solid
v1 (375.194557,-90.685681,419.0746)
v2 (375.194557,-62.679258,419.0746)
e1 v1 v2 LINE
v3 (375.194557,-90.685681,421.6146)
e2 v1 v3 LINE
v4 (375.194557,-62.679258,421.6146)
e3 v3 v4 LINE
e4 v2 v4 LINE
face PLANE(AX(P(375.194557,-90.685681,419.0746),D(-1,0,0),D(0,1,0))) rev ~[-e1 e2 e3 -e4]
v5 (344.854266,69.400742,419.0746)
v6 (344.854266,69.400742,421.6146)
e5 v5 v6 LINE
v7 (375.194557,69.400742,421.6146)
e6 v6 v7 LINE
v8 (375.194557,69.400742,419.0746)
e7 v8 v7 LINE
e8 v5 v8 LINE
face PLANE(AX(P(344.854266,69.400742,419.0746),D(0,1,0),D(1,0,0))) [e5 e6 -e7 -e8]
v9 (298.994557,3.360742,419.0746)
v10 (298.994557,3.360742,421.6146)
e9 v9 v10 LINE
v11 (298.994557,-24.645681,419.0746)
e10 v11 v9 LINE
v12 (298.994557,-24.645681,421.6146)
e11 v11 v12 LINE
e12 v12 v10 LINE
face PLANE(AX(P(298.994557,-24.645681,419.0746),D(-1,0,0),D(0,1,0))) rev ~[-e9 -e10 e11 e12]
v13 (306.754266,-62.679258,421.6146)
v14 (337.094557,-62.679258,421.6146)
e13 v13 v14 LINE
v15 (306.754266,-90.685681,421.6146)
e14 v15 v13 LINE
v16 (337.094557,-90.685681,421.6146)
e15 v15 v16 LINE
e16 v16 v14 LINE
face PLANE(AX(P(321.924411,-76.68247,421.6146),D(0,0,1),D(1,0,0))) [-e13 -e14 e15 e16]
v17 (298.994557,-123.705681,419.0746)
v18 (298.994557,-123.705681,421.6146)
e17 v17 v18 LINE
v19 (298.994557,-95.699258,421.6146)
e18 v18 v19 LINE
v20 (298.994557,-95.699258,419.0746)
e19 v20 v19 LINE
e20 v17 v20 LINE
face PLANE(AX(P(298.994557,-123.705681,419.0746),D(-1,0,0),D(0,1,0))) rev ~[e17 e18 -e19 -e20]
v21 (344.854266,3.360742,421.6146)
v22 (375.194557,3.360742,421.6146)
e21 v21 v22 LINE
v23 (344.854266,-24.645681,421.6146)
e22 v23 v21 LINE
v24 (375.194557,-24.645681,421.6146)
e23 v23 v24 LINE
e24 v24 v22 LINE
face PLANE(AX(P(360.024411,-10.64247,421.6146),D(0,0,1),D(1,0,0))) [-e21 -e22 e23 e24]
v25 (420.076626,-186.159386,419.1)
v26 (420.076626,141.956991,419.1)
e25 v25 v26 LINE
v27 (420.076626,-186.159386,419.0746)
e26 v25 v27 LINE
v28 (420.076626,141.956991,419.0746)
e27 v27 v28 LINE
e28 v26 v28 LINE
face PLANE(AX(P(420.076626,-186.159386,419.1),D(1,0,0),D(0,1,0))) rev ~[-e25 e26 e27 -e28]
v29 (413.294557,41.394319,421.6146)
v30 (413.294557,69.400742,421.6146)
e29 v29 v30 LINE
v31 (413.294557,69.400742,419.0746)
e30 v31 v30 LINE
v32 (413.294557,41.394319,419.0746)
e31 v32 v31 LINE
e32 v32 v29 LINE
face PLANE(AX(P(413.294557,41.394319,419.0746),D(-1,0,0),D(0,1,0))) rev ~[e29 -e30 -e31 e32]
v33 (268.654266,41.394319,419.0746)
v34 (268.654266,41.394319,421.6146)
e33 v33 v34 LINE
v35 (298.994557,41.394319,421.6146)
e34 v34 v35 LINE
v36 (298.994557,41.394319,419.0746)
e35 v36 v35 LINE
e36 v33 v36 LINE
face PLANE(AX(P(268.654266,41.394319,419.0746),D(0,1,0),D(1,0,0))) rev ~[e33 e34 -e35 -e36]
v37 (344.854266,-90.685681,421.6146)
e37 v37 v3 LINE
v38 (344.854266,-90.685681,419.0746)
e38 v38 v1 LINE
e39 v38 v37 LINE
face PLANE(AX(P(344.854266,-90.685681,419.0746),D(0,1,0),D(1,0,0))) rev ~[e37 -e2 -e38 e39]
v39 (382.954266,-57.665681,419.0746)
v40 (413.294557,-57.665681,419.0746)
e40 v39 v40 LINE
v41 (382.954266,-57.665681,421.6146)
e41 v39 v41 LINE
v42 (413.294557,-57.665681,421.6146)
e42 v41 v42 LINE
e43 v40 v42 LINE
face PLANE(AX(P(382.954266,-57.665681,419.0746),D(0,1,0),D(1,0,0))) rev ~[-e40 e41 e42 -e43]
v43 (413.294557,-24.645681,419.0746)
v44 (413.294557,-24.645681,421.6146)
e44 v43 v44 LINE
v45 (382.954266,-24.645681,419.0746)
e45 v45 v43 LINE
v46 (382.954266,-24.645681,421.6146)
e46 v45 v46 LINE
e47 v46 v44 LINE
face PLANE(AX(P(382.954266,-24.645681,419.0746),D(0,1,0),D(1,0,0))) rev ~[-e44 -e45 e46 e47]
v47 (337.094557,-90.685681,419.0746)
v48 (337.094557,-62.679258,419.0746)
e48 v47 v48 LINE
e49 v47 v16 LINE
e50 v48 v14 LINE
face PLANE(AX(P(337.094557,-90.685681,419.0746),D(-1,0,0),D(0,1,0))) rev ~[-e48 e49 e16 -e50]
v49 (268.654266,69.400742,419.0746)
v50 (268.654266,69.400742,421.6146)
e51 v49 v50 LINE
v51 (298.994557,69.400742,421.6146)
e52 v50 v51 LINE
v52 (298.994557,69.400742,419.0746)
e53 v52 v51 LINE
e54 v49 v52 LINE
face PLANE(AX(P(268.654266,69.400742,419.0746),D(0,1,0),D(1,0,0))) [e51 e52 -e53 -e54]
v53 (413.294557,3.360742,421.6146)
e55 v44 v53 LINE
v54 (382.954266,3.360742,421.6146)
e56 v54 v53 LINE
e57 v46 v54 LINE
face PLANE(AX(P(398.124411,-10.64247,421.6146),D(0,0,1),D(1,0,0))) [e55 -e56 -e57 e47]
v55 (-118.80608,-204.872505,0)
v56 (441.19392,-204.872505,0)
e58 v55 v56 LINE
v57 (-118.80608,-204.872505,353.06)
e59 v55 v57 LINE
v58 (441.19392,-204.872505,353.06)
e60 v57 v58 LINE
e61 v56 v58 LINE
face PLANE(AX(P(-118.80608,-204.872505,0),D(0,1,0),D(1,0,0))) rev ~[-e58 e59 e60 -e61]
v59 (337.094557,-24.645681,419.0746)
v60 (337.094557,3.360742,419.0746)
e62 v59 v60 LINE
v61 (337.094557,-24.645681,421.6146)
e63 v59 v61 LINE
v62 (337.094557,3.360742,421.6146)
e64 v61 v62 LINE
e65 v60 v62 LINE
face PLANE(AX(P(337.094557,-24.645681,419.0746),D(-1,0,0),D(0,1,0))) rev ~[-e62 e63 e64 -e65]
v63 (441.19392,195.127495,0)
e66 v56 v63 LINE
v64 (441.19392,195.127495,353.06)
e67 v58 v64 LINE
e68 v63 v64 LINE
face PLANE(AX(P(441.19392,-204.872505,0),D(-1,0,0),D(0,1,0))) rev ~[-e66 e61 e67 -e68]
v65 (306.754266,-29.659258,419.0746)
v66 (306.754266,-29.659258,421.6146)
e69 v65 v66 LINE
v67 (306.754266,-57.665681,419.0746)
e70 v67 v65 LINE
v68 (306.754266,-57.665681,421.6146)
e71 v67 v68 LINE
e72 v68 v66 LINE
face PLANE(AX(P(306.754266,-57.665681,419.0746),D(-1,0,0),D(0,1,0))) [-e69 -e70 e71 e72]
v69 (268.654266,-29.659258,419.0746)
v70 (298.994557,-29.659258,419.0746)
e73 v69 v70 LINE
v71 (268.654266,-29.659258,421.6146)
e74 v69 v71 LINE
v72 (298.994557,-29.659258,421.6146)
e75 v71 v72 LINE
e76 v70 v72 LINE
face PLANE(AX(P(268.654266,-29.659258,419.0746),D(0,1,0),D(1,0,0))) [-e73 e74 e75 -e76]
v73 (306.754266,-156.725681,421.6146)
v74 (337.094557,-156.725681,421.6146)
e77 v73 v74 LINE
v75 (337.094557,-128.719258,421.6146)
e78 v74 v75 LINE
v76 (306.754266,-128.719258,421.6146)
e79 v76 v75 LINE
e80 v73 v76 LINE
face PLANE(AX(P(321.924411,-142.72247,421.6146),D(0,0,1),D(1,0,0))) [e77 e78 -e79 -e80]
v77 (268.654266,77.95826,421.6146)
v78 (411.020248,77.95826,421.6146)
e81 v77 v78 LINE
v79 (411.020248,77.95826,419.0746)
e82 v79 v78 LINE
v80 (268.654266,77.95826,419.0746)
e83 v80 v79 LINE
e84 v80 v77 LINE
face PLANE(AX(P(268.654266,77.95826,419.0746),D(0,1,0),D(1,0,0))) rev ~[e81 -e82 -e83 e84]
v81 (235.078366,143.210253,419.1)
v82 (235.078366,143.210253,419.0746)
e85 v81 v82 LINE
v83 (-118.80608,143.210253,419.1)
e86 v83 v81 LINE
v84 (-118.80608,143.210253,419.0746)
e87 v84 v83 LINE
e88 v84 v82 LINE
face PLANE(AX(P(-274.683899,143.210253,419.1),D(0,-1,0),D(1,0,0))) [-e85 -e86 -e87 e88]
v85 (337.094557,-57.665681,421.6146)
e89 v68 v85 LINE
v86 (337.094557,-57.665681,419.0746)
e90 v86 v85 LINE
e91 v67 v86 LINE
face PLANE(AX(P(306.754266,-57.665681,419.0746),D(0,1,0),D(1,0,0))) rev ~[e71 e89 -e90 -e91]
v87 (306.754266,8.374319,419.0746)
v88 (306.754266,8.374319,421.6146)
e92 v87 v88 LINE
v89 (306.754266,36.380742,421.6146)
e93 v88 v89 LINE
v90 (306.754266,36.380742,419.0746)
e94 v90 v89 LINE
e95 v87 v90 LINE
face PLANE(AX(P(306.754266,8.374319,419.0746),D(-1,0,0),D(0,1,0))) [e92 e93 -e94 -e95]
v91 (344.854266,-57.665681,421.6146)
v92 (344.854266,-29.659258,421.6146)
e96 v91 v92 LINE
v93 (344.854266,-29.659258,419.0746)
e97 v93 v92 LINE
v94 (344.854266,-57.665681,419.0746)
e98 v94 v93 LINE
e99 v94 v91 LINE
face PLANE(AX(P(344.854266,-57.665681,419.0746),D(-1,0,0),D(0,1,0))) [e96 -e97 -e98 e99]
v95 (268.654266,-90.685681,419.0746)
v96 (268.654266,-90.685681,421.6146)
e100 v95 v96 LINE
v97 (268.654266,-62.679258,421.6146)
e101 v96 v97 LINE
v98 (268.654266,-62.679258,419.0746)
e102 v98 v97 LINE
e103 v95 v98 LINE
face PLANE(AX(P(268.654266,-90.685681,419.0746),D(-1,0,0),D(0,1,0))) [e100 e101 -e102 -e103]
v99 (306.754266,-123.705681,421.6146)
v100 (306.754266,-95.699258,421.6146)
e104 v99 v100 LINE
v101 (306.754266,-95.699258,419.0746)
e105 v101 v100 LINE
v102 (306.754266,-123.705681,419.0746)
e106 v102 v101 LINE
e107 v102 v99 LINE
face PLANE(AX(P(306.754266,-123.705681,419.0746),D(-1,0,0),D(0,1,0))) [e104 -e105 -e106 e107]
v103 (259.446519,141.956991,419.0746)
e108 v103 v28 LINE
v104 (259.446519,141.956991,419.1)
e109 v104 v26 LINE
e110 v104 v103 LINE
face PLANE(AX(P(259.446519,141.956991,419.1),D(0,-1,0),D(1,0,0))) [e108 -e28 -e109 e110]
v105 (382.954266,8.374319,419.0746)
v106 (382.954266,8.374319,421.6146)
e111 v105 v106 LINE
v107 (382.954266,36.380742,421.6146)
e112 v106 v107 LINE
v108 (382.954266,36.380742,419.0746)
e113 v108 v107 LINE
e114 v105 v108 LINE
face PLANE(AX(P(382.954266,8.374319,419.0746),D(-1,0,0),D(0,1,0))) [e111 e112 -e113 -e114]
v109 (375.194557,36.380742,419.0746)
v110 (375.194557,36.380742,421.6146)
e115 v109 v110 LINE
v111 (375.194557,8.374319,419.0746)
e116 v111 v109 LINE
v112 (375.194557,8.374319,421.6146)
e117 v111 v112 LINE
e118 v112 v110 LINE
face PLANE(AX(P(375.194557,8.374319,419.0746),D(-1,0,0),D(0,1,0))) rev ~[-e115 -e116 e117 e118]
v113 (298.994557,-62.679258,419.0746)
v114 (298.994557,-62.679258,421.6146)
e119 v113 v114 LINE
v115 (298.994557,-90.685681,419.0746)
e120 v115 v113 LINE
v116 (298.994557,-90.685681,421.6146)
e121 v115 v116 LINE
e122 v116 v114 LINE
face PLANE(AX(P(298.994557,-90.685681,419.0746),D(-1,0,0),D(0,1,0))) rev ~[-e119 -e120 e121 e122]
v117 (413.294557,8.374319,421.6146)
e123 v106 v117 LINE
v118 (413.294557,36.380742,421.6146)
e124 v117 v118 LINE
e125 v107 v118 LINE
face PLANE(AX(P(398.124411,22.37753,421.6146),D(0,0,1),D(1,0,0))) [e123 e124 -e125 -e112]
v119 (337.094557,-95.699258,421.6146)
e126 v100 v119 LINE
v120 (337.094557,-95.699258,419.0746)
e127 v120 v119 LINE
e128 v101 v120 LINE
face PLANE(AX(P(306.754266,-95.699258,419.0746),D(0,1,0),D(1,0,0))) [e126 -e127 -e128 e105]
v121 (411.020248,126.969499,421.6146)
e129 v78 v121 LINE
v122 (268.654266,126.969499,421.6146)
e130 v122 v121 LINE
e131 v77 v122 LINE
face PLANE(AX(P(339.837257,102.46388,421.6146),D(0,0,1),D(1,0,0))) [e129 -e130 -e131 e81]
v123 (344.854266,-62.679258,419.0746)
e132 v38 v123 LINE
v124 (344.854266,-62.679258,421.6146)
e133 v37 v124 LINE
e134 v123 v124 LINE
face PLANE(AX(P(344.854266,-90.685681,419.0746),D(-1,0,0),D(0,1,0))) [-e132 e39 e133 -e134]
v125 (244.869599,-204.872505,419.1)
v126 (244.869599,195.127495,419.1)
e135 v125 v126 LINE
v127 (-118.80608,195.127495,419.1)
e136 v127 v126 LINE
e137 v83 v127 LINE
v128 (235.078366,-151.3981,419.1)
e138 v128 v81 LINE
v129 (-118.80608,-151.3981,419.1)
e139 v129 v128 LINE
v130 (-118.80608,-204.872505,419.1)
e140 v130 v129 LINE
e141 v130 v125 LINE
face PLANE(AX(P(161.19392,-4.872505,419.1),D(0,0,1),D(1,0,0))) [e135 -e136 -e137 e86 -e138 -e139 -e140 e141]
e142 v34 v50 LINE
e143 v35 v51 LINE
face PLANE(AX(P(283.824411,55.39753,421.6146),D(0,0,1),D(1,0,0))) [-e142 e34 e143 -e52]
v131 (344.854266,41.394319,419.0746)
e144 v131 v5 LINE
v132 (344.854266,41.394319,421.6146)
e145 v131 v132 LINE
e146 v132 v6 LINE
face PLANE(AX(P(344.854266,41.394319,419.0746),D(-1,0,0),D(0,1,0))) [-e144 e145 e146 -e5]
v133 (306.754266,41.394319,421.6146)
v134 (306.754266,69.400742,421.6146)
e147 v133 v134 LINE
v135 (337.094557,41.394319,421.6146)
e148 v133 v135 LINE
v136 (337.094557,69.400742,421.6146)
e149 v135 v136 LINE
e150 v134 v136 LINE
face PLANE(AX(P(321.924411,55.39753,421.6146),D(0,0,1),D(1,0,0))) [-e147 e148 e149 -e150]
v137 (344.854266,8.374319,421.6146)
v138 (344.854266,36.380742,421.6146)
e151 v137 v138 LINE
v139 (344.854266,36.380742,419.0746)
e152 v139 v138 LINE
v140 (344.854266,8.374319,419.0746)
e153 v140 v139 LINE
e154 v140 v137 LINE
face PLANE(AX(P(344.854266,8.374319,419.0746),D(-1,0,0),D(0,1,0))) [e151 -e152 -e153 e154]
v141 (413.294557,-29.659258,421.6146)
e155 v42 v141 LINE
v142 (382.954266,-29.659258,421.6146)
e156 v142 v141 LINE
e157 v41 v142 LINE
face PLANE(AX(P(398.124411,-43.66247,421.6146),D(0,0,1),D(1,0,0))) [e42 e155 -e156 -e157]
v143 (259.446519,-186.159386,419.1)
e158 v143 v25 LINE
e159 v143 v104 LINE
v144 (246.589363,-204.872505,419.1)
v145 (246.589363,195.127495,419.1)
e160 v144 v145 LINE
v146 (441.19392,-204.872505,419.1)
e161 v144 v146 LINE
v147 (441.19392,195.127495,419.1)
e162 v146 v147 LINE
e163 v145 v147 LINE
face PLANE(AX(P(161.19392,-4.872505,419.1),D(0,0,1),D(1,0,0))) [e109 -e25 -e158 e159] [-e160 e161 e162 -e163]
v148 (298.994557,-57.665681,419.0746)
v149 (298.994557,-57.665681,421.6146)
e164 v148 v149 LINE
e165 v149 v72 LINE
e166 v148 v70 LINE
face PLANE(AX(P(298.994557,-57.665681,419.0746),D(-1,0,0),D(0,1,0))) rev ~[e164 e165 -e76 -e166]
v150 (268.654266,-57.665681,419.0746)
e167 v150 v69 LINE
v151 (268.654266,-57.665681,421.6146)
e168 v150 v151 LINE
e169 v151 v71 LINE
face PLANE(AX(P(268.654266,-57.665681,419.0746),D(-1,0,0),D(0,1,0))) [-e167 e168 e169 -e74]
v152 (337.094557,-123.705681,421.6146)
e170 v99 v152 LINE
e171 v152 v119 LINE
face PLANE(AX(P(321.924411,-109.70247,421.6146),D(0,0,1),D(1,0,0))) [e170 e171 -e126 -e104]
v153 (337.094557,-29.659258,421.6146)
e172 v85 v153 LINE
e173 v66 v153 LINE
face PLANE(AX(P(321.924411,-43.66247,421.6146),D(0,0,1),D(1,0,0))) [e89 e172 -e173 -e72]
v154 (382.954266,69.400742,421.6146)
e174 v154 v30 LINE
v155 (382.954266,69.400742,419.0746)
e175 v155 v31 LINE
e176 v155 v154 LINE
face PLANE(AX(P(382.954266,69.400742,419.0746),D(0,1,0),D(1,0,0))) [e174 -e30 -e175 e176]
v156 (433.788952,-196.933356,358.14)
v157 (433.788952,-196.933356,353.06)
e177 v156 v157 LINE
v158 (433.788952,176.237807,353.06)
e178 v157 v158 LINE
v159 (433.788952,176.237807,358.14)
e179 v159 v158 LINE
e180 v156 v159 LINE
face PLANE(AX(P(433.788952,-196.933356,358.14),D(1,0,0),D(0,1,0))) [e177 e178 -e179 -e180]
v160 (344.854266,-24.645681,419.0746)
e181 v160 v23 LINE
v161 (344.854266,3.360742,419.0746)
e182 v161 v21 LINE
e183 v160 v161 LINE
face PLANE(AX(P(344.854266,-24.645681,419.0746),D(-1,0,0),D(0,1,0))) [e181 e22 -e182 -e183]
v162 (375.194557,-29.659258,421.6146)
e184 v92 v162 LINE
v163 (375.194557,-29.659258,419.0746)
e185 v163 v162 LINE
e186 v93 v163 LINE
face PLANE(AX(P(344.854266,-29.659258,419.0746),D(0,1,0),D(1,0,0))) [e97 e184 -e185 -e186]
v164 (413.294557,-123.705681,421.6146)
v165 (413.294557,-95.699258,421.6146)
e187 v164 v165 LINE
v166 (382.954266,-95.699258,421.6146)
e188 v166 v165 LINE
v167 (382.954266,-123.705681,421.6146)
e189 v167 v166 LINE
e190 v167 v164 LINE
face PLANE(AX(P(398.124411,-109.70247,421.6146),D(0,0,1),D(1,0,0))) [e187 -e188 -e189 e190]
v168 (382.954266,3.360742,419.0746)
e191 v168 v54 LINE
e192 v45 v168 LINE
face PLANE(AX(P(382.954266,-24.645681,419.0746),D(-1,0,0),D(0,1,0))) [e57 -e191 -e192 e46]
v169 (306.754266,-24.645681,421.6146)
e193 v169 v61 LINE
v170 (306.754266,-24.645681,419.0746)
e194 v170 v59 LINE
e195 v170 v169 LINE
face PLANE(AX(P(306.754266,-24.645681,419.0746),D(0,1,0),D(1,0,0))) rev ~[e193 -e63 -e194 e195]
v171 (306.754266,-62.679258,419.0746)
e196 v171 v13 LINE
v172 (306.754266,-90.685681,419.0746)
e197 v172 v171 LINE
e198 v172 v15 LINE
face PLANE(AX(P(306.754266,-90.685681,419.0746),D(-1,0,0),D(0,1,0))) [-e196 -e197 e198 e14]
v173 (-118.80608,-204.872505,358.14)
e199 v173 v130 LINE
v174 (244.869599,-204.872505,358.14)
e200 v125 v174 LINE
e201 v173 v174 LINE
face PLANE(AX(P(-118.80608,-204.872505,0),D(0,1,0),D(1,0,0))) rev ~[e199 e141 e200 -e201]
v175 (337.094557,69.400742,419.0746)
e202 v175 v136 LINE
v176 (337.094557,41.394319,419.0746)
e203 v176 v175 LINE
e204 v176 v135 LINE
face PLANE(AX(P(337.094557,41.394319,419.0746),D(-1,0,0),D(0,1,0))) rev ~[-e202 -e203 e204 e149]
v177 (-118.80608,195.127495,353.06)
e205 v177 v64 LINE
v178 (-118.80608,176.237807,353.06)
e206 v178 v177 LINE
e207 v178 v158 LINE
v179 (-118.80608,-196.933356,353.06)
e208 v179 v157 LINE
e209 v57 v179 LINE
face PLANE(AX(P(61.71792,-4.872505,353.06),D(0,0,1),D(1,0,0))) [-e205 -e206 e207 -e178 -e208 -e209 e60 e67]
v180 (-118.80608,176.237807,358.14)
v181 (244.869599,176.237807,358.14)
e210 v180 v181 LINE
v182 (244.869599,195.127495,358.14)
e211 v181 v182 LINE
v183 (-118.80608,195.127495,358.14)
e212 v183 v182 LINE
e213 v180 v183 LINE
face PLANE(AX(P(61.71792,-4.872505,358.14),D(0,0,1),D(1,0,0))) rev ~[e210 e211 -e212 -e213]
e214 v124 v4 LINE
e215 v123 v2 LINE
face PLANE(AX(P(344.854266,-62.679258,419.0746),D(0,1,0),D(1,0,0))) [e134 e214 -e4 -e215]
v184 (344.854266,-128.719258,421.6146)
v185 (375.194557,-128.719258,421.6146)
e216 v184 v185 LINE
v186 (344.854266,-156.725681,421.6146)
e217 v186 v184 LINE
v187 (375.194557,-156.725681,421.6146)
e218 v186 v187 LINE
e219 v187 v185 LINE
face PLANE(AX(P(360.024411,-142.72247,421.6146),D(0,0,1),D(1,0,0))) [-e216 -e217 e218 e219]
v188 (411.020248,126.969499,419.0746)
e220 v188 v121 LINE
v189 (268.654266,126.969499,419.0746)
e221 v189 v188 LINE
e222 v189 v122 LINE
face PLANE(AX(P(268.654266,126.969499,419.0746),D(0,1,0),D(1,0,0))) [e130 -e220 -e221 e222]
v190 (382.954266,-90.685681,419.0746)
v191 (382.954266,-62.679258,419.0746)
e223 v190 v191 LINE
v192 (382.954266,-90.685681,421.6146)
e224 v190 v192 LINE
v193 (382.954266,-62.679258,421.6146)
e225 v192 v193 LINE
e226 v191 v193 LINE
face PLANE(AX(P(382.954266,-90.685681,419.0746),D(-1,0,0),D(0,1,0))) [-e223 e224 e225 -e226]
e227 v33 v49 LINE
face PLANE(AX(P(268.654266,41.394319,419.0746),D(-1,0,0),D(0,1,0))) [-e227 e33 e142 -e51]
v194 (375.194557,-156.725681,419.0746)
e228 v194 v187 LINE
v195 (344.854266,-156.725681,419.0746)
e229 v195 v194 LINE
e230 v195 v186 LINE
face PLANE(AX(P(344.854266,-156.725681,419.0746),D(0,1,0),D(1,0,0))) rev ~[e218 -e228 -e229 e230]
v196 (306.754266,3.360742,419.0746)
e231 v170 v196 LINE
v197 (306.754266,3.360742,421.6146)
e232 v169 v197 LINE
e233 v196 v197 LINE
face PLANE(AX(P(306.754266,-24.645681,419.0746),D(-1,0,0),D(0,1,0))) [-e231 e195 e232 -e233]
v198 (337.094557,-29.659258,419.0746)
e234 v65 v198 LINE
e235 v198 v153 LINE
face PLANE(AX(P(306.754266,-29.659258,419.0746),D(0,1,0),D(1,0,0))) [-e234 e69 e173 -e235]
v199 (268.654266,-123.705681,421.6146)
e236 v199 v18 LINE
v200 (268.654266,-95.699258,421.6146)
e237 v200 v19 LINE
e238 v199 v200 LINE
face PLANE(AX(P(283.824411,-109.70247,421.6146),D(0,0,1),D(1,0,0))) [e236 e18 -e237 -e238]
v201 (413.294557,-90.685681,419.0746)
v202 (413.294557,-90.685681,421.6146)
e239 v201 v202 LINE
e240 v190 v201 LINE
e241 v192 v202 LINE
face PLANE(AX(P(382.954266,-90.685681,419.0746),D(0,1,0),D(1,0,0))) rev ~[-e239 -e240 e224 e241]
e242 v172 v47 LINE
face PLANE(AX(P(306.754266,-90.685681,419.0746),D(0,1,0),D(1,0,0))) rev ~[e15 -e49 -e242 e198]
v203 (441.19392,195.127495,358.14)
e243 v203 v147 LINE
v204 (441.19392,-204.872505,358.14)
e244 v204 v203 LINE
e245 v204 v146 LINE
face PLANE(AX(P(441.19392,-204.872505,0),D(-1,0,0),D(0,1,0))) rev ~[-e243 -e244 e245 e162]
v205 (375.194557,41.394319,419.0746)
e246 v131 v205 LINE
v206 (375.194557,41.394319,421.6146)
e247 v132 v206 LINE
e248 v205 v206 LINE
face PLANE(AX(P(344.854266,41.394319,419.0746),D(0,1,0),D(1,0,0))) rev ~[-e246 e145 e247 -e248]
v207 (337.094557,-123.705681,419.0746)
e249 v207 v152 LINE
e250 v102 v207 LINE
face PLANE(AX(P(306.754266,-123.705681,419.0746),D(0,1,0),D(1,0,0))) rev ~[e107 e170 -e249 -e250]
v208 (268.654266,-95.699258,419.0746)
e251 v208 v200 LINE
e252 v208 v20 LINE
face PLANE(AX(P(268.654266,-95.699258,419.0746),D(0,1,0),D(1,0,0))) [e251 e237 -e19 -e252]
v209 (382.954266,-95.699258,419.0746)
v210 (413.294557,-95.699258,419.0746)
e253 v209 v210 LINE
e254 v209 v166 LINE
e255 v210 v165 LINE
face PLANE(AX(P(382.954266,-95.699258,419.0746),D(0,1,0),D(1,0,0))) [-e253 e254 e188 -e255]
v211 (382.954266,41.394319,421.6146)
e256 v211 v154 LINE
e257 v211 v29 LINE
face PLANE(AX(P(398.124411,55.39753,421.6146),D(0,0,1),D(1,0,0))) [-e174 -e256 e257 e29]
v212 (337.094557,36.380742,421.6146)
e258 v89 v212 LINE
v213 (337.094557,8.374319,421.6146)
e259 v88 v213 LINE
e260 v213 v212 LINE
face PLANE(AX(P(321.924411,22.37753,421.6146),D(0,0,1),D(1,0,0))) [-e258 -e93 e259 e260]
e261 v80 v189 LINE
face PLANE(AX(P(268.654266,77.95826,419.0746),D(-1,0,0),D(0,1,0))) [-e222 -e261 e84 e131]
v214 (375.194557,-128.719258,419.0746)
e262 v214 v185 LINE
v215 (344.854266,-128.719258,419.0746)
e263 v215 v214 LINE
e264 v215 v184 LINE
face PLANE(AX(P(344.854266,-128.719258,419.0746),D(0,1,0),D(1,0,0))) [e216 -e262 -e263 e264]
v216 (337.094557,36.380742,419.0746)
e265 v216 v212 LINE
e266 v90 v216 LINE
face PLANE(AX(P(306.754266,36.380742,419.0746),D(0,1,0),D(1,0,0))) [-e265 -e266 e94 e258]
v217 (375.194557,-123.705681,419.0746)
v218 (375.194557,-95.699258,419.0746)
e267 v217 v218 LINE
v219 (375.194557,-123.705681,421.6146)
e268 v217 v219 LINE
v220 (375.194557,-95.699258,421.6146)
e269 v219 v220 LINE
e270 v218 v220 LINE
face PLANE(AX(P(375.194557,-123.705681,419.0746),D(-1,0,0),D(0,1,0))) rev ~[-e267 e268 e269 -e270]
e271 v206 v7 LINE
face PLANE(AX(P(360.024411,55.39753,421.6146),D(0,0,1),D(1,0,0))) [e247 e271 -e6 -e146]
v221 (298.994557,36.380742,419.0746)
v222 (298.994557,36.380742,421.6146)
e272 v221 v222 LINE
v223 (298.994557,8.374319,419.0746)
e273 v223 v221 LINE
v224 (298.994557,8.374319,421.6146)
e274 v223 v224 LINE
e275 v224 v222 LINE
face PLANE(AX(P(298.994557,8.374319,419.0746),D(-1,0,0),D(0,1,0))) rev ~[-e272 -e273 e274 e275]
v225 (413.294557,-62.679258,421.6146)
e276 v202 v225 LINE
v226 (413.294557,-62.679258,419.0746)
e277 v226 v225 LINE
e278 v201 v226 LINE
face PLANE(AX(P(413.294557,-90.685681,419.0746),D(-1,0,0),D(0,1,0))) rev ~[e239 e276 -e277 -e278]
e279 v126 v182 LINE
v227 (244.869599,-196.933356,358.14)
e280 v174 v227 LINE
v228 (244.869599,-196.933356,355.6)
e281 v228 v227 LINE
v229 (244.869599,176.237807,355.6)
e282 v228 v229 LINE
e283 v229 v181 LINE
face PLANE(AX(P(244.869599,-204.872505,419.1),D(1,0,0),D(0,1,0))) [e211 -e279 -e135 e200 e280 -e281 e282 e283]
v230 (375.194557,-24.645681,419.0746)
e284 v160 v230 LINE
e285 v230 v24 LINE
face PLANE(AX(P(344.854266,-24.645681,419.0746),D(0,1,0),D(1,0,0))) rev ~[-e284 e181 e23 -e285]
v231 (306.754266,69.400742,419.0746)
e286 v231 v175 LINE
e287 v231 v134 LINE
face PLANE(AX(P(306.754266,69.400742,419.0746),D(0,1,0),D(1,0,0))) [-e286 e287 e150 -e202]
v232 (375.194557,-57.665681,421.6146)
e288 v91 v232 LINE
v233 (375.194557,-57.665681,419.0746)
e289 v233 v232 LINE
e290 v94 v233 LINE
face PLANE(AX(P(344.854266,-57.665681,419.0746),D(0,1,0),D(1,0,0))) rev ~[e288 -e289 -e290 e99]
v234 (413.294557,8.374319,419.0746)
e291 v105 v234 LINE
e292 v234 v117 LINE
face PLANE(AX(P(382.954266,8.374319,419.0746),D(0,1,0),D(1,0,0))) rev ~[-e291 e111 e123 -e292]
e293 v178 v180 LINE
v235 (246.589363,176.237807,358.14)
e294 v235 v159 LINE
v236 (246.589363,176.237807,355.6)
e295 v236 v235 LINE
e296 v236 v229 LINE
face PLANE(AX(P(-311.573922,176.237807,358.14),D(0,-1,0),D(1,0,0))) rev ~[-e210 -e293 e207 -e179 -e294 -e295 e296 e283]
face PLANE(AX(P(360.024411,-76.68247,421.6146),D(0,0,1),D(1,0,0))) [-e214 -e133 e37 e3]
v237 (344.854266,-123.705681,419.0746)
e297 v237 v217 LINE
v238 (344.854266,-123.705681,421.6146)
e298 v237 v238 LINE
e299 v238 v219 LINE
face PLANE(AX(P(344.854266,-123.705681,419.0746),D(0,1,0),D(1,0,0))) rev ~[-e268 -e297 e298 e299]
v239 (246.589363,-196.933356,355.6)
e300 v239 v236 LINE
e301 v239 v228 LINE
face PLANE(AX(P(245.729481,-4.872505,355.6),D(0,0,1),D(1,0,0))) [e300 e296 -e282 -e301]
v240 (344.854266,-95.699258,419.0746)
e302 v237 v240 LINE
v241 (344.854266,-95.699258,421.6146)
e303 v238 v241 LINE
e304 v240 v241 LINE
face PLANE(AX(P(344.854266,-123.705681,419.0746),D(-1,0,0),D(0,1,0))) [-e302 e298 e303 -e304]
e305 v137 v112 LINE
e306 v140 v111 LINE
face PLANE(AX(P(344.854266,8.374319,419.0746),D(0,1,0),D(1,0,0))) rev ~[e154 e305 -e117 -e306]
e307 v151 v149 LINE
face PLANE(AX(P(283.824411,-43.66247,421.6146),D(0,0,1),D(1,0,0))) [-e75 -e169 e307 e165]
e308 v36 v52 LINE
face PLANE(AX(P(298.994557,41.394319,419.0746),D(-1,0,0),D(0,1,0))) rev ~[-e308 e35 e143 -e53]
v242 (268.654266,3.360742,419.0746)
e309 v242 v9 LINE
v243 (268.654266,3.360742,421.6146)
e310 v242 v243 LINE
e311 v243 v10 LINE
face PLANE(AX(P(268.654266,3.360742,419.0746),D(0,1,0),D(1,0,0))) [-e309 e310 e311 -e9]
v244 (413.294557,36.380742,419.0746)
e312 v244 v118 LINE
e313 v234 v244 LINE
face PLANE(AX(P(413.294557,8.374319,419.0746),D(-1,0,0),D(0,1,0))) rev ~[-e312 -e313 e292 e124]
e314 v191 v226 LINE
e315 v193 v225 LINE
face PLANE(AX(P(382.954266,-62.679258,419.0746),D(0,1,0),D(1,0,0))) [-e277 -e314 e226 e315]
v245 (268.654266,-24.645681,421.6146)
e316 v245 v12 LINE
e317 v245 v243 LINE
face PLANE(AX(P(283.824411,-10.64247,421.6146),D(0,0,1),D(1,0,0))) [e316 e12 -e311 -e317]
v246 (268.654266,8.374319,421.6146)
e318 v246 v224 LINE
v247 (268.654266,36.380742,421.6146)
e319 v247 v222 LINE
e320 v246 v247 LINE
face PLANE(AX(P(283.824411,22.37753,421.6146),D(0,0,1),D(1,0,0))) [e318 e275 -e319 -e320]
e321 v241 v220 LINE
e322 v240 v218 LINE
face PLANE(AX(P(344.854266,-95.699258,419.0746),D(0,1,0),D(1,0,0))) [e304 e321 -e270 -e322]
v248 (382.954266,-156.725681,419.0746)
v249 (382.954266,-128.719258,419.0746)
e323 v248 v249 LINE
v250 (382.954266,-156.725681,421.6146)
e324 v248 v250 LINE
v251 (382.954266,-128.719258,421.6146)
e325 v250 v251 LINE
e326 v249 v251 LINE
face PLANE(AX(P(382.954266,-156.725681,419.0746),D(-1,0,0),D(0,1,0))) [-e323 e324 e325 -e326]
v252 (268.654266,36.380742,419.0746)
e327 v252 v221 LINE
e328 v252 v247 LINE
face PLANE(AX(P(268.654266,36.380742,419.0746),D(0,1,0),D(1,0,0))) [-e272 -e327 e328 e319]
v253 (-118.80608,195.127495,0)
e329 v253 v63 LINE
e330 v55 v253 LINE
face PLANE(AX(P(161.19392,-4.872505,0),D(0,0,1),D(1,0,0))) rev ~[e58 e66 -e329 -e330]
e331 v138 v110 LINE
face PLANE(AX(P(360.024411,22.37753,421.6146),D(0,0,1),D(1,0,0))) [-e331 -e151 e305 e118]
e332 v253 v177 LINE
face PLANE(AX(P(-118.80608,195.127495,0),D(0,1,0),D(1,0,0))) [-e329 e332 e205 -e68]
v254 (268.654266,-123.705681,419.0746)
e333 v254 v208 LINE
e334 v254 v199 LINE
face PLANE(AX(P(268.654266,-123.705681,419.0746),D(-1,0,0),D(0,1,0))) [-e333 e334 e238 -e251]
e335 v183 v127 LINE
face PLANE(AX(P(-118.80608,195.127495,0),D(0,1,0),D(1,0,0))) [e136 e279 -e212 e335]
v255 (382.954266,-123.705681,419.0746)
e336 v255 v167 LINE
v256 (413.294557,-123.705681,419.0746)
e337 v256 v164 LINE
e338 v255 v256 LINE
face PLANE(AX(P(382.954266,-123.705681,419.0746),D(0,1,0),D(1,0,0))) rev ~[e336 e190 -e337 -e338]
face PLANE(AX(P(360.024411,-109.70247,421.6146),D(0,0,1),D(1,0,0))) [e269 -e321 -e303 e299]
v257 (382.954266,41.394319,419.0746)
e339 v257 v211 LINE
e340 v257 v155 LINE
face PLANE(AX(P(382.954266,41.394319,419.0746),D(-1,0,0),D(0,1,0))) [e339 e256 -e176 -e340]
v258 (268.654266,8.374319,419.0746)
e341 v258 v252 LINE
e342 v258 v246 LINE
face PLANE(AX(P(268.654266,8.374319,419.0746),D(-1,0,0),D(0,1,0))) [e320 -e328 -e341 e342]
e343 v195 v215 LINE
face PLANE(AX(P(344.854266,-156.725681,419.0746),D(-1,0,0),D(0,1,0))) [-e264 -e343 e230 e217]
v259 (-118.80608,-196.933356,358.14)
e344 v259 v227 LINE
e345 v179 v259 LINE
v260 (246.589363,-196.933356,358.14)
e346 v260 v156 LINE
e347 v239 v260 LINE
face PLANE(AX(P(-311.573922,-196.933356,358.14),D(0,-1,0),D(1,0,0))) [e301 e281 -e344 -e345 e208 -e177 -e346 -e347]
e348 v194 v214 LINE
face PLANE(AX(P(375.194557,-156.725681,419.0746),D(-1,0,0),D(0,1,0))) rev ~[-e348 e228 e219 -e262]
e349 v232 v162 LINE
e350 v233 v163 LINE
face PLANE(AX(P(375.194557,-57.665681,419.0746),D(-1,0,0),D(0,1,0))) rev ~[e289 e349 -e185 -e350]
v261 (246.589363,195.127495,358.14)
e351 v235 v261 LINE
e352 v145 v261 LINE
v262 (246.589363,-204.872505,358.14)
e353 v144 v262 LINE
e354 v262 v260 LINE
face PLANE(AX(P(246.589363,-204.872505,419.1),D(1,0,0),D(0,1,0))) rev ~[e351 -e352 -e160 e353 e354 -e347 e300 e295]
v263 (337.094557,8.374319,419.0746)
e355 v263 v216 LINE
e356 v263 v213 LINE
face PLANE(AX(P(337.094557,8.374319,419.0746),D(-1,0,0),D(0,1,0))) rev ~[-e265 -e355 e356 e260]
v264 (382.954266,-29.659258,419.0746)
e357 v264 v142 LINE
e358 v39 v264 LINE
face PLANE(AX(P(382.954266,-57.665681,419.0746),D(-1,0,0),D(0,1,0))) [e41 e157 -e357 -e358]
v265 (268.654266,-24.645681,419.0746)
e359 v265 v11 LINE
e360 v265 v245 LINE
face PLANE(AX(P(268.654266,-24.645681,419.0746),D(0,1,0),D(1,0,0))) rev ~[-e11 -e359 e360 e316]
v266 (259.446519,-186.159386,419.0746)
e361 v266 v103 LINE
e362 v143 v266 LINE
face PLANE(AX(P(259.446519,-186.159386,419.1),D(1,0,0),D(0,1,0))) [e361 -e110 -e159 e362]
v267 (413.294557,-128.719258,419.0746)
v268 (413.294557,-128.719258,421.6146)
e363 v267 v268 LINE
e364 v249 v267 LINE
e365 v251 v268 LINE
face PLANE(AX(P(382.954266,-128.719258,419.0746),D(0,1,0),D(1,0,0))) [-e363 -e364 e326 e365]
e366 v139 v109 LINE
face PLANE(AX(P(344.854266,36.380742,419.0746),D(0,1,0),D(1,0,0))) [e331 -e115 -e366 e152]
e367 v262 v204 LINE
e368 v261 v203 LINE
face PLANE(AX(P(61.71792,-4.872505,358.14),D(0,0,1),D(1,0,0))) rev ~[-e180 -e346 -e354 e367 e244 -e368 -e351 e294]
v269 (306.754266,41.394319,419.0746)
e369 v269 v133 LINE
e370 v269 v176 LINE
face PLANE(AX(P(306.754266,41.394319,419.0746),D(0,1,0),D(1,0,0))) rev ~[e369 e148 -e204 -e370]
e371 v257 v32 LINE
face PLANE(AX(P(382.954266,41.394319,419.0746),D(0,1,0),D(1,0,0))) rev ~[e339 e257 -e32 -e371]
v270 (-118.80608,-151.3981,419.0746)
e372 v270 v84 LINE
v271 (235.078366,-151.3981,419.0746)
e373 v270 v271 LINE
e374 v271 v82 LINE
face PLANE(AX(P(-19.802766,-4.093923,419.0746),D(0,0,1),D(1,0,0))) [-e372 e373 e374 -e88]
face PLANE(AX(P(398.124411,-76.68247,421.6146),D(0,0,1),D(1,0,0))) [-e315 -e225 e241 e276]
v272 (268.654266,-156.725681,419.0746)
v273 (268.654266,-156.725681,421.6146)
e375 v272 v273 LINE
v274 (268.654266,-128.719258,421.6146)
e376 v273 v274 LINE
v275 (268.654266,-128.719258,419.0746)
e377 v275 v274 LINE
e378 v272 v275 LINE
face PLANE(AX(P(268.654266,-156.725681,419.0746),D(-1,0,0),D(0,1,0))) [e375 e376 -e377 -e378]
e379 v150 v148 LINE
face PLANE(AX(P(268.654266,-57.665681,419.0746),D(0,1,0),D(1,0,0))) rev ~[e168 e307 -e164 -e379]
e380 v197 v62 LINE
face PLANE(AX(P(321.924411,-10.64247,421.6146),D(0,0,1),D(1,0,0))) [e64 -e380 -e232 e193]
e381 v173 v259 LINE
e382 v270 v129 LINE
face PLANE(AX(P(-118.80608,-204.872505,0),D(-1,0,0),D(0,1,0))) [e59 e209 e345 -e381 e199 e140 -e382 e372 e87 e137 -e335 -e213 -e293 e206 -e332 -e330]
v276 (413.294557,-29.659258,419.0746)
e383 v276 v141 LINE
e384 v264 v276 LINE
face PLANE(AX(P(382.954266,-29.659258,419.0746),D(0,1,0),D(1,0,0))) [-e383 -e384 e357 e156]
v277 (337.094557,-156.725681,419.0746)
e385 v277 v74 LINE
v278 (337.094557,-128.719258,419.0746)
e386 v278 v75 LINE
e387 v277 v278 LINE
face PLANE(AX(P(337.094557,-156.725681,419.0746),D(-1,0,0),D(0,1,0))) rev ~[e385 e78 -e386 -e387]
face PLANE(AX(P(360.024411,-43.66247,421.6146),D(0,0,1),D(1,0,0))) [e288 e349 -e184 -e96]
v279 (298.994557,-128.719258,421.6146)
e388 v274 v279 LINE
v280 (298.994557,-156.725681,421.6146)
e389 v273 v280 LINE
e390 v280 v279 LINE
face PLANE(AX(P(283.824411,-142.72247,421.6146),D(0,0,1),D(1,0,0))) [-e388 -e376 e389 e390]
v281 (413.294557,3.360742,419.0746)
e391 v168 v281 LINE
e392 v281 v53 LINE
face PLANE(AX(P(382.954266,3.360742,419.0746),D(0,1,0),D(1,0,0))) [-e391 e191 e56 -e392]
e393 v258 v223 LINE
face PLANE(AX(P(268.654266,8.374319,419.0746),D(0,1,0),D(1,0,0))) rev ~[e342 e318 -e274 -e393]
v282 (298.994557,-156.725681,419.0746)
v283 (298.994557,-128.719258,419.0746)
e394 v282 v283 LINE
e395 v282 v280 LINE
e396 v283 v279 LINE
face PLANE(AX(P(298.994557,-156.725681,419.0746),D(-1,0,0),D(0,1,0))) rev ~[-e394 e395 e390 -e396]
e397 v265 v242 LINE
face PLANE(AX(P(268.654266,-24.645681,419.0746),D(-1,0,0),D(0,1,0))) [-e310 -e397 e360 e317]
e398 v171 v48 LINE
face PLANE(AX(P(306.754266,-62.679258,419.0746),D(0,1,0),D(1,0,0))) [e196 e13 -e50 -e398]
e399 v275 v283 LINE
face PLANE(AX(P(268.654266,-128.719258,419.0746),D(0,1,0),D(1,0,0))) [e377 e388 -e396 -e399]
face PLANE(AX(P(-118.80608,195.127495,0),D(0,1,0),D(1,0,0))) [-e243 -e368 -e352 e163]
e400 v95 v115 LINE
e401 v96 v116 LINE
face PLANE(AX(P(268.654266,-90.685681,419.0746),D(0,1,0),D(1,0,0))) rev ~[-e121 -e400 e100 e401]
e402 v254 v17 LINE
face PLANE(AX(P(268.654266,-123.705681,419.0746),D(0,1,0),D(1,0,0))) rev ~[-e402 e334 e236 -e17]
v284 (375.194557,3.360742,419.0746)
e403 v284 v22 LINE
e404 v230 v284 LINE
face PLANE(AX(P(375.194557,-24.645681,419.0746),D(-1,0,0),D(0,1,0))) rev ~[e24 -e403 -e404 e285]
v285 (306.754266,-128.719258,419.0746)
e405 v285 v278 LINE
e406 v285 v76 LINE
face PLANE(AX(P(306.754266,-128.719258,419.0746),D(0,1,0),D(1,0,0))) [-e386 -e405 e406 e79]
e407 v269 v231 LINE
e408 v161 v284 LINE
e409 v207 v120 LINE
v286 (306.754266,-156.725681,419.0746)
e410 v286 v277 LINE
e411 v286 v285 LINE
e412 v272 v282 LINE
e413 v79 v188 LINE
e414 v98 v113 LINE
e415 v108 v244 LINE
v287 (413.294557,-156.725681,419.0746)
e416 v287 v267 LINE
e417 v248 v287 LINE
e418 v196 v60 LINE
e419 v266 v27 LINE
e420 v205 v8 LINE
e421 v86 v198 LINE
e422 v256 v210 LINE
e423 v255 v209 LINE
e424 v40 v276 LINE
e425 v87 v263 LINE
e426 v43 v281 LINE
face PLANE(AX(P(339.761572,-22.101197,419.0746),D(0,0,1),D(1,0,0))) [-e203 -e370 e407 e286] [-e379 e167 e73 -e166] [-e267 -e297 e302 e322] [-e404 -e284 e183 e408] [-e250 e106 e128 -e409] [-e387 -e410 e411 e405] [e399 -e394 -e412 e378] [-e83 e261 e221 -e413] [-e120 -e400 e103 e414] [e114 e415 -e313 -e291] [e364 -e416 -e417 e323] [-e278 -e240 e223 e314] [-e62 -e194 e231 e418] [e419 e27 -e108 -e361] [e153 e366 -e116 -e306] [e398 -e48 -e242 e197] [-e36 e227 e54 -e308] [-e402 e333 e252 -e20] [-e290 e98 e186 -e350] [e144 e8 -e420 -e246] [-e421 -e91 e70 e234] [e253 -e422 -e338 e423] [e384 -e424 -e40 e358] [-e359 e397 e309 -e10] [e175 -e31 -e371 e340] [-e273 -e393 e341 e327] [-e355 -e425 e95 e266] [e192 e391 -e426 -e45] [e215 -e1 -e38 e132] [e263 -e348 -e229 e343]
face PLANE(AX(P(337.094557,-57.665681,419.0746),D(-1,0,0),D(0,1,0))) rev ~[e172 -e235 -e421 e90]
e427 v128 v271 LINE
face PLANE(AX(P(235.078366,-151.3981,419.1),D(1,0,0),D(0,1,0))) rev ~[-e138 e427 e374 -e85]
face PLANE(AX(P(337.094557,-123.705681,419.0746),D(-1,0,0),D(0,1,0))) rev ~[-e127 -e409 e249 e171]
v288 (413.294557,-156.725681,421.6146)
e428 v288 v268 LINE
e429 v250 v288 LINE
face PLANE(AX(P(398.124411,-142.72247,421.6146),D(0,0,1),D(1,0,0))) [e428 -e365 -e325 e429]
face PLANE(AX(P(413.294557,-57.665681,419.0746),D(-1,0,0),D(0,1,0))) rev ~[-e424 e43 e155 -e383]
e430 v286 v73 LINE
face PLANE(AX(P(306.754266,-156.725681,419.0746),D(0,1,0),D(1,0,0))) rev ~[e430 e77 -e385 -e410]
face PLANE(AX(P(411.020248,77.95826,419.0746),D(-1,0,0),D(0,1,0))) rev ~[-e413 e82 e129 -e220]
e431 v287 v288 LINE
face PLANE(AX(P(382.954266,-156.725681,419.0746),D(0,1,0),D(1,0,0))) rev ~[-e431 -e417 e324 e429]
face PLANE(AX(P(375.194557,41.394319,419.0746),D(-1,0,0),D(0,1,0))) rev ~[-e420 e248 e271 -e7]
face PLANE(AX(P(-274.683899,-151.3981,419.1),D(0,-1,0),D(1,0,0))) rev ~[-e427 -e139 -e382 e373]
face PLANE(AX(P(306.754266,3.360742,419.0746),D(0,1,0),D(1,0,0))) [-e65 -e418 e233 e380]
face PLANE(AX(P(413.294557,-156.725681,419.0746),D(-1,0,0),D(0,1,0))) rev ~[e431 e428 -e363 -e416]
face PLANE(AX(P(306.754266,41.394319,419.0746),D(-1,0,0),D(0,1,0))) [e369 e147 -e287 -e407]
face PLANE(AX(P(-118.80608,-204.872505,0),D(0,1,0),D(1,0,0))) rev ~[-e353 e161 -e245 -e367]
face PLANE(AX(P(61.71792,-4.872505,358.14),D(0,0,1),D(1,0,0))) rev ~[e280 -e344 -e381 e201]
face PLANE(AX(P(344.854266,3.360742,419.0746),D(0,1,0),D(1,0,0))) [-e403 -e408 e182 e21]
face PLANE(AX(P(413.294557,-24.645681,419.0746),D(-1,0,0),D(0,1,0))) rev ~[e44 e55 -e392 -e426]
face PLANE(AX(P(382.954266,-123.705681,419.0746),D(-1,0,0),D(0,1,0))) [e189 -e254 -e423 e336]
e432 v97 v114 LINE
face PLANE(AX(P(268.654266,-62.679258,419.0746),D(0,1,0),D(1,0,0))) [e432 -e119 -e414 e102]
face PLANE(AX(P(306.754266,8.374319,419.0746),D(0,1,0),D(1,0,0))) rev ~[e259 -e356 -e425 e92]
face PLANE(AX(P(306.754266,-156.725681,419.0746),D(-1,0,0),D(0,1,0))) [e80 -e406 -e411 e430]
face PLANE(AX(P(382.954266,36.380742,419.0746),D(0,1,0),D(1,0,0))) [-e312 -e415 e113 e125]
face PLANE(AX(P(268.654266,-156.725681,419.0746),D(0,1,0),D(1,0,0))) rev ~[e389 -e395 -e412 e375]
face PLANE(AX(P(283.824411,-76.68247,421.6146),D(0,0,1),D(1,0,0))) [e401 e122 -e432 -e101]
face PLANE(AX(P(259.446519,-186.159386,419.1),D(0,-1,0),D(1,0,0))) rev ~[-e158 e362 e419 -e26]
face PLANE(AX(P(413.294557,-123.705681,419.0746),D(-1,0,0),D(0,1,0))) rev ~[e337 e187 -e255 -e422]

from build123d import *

# Parameters (mm, degrees)
SKETCH1_W           = 560
SKETCH1_H           = 400
BOSS_EXTRUDE1_DEPTH = 419.1
SKETCH2_W           = 509.762265323
SKETCH2_H           = 294.60835285
SKETCH2_W_2         = 160.630106896
SKETCH2_H_2         = 328.11637689
CUT_EXTRUDE1_DEPTH  = 0.0254
CUT_EXTRUDE2_START  = -60.96
SKETCH3_W           = 758.952
SKETCH3_H           = 400
SKETCH3_W_2         = 745.362874068
SKETCH3_H_2         = 373.171162969
CUT_EXTRUDE2_DEPTH  = 5.08
SKETCH5_W           = 30.340291286
SKETCH5_H           = 28.006422725
SKETCH5_W_2         = 142.365982185
SKETCH5_H_2         = 49.011239769
BOSS_EXTRUDE3_DEPTH = 2.54
SKETCH6_W           = 1.719763346
SKETCH6_H           = 400
CUT_EXTRUDE3_DEPTH  = 63.5


with BuildPart() as part:
    # Sketch1 → Boss-Extrude1 (new body)
    with BuildSketch(Plane.XY):
        with Locations((161.193919926, -4.872504675)):
            Rectangle(SKETCH1_W, SKETCH1_H)
    extrude(amount=BOSS_EXTRUDE1_DEPTH)

    # Sketch2 → Cut-Extrude1 (cut)
    with BuildSketch(Plane.XY.offset(419.1)):
        with Locations((-19.802766229, -4.093923129)):
            Rectangle(SKETCH2_W, SKETCH2_H)
        with Locations((339.761572352, -22.10119724)):
            Rectangle(SKETCH2_W_2, SKETCH2_H_2)
    extrude(amount=-CUT_EXTRUDE1_DEPTH, mode=Mode.SUBTRACT)

    # Sketch3 → Cut-Extrude2 (cut)
    with BuildSketch(Plane.XY.offset(419.1).offset(CUT_EXTRUDE2_START)):
        with Locations((61.717919926, -4.872504675)):
            Rectangle(SKETCH3_W, SKETCH3_H)
        with Locations((61.107514964, -10.347774784)):
            Rectangle(SKETCH3_W_2, SKETCH3_H_2, mode=Mode.SUBTRACT)
    extrude(amount=-CUT_EXTRUDE2_DEPTH, mode=Mode.SUBTRACT)

    # Sketch5 → Boss-Extrude3 (add)
    with BuildSketch(Plane.XY.offset(419.0746)):
        with Locations((321.924411259, 55.397530231)):
            Rectangle(SKETCH5_W, SKETCH5_H)
        with Locations((339.837256709, 102.463879533)):
            Rectangle(SKETCH5_W_2, SKETCH5_H_2)
        with Locations((283.824411259, 55.397530231)):
            Rectangle(SKETCH5_W, SKETCH5_H)
        with Locations((360.024411259, 55.397530231)):
            Rectangle(SKETCH5_W, SKETCH5_H)
        with Locations((398.124411259, 55.397530231)):
            Rectangle(SKETCH5_W, SKETCH5_H)
        with Locations((321.924411259, 22.377530231)):
            Rectangle(SKETCH5_W, SKETCH5_H)
        with Locations((360.024411259, 22.377530231)):
            Rectangle(SKETCH5_W, SKETCH5_H)
        with Locations((398.124411259, 22.377530231)):
            Rectangle(SKETCH5_W, SKETCH5_H)
        with Locations((321.924411259, -10.642469769)):
            Rectangle(SKETCH5_W, SKETCH5_H)
        with Locations((360.024411259, -10.642469769)):
            Rectangle(SKETCH5_W, SKETCH5_H)
        with Locations((398.124411259, -10.642469769)):
            Rectangle(SKETCH5_W, SKETCH5_H)
        with Locations((321.924411259, -43.66246977)):
            Rectangle(SKETCH5_W, SKETCH5_H)
        with Locations((360.024411259, -43.66246977)):
            Rectangle(SKETCH5_W, SKETCH5_H)
        with Locations((398.124411259, -43.66246977)):
            Rectangle(SKETCH5_W, SKETCH5_H)
        with Locations((321.924411259, -76.68246977)):
            Rectangle(SKETCH5_W, SKETCH5_H)
        with Locations((360.024411259, -76.68246977)):
            Rectangle(SKETCH5_W, SKETCH5_H)
        with Locations((398.124411259, -76.68246977)):
            Rectangle(SKETCH5_W, SKETCH5_H)
        with Locations((321.924411259, -109.702469769)):
            Rectangle(SKETCH5_W, SKETCH5_H)
        with Locations((360.024411259, -109.702469769)):
            Rectangle(SKETCH5_W, SKETCH5_H)
        with Locations((398.124411259, -109.702469769)):
            Rectangle(SKETCH5_W, SKETCH5_H)
        with Locations((321.924411259, -142.72246977)):
            Rectangle(SKETCH5_W, SKETCH5_H)
        with Locations((360.024411259, -142.72246977)):
            Rectangle(SKETCH5_W, SKETCH5_H)
        with Locations((398.124411259, -142.72246977)):
            Rectangle(SKETCH5_W, SKETCH5_H)
        with Locations((283.824411259, 22.377530231)):
            Rectangle(SKETCH5_W, SKETCH5_H)
        with Locations((283.824411259, -10.642469769)):
            Rectangle(SKETCH5_W, SKETCH5_H)
        with Locations((283.824411259, -43.66246977)):
            Rectangle(SKETCH5_W, SKETCH5_H)
        with Locations((283.824411259, -76.68246977)):
            Rectangle(SKETCH5_W, SKETCH5_H)
        with Locations((283.824411259, -109.702469769)):
            Rectangle(SKETCH5_W, SKETCH5_H)
        with Locations((283.824411259, -142.72246977)):
            Rectangle(SKETCH5_W, SKETCH5_H)
    extrude(amount=BOSS_EXTRUDE3_DEPTH)

    # Sketch6 → Cut-Extrude3 (cut)
    with BuildSketch(Plane.XY.offset(419.1)):
        with Locations((245.729481122, -4.872504675)):
            Rectangle(SKETCH6_W, SKETCH6_H)
    extrude(amount=-CUT_EXTRUDE3_DEPTH, mode=Mode.SUBTRACT)


solid = part.part
